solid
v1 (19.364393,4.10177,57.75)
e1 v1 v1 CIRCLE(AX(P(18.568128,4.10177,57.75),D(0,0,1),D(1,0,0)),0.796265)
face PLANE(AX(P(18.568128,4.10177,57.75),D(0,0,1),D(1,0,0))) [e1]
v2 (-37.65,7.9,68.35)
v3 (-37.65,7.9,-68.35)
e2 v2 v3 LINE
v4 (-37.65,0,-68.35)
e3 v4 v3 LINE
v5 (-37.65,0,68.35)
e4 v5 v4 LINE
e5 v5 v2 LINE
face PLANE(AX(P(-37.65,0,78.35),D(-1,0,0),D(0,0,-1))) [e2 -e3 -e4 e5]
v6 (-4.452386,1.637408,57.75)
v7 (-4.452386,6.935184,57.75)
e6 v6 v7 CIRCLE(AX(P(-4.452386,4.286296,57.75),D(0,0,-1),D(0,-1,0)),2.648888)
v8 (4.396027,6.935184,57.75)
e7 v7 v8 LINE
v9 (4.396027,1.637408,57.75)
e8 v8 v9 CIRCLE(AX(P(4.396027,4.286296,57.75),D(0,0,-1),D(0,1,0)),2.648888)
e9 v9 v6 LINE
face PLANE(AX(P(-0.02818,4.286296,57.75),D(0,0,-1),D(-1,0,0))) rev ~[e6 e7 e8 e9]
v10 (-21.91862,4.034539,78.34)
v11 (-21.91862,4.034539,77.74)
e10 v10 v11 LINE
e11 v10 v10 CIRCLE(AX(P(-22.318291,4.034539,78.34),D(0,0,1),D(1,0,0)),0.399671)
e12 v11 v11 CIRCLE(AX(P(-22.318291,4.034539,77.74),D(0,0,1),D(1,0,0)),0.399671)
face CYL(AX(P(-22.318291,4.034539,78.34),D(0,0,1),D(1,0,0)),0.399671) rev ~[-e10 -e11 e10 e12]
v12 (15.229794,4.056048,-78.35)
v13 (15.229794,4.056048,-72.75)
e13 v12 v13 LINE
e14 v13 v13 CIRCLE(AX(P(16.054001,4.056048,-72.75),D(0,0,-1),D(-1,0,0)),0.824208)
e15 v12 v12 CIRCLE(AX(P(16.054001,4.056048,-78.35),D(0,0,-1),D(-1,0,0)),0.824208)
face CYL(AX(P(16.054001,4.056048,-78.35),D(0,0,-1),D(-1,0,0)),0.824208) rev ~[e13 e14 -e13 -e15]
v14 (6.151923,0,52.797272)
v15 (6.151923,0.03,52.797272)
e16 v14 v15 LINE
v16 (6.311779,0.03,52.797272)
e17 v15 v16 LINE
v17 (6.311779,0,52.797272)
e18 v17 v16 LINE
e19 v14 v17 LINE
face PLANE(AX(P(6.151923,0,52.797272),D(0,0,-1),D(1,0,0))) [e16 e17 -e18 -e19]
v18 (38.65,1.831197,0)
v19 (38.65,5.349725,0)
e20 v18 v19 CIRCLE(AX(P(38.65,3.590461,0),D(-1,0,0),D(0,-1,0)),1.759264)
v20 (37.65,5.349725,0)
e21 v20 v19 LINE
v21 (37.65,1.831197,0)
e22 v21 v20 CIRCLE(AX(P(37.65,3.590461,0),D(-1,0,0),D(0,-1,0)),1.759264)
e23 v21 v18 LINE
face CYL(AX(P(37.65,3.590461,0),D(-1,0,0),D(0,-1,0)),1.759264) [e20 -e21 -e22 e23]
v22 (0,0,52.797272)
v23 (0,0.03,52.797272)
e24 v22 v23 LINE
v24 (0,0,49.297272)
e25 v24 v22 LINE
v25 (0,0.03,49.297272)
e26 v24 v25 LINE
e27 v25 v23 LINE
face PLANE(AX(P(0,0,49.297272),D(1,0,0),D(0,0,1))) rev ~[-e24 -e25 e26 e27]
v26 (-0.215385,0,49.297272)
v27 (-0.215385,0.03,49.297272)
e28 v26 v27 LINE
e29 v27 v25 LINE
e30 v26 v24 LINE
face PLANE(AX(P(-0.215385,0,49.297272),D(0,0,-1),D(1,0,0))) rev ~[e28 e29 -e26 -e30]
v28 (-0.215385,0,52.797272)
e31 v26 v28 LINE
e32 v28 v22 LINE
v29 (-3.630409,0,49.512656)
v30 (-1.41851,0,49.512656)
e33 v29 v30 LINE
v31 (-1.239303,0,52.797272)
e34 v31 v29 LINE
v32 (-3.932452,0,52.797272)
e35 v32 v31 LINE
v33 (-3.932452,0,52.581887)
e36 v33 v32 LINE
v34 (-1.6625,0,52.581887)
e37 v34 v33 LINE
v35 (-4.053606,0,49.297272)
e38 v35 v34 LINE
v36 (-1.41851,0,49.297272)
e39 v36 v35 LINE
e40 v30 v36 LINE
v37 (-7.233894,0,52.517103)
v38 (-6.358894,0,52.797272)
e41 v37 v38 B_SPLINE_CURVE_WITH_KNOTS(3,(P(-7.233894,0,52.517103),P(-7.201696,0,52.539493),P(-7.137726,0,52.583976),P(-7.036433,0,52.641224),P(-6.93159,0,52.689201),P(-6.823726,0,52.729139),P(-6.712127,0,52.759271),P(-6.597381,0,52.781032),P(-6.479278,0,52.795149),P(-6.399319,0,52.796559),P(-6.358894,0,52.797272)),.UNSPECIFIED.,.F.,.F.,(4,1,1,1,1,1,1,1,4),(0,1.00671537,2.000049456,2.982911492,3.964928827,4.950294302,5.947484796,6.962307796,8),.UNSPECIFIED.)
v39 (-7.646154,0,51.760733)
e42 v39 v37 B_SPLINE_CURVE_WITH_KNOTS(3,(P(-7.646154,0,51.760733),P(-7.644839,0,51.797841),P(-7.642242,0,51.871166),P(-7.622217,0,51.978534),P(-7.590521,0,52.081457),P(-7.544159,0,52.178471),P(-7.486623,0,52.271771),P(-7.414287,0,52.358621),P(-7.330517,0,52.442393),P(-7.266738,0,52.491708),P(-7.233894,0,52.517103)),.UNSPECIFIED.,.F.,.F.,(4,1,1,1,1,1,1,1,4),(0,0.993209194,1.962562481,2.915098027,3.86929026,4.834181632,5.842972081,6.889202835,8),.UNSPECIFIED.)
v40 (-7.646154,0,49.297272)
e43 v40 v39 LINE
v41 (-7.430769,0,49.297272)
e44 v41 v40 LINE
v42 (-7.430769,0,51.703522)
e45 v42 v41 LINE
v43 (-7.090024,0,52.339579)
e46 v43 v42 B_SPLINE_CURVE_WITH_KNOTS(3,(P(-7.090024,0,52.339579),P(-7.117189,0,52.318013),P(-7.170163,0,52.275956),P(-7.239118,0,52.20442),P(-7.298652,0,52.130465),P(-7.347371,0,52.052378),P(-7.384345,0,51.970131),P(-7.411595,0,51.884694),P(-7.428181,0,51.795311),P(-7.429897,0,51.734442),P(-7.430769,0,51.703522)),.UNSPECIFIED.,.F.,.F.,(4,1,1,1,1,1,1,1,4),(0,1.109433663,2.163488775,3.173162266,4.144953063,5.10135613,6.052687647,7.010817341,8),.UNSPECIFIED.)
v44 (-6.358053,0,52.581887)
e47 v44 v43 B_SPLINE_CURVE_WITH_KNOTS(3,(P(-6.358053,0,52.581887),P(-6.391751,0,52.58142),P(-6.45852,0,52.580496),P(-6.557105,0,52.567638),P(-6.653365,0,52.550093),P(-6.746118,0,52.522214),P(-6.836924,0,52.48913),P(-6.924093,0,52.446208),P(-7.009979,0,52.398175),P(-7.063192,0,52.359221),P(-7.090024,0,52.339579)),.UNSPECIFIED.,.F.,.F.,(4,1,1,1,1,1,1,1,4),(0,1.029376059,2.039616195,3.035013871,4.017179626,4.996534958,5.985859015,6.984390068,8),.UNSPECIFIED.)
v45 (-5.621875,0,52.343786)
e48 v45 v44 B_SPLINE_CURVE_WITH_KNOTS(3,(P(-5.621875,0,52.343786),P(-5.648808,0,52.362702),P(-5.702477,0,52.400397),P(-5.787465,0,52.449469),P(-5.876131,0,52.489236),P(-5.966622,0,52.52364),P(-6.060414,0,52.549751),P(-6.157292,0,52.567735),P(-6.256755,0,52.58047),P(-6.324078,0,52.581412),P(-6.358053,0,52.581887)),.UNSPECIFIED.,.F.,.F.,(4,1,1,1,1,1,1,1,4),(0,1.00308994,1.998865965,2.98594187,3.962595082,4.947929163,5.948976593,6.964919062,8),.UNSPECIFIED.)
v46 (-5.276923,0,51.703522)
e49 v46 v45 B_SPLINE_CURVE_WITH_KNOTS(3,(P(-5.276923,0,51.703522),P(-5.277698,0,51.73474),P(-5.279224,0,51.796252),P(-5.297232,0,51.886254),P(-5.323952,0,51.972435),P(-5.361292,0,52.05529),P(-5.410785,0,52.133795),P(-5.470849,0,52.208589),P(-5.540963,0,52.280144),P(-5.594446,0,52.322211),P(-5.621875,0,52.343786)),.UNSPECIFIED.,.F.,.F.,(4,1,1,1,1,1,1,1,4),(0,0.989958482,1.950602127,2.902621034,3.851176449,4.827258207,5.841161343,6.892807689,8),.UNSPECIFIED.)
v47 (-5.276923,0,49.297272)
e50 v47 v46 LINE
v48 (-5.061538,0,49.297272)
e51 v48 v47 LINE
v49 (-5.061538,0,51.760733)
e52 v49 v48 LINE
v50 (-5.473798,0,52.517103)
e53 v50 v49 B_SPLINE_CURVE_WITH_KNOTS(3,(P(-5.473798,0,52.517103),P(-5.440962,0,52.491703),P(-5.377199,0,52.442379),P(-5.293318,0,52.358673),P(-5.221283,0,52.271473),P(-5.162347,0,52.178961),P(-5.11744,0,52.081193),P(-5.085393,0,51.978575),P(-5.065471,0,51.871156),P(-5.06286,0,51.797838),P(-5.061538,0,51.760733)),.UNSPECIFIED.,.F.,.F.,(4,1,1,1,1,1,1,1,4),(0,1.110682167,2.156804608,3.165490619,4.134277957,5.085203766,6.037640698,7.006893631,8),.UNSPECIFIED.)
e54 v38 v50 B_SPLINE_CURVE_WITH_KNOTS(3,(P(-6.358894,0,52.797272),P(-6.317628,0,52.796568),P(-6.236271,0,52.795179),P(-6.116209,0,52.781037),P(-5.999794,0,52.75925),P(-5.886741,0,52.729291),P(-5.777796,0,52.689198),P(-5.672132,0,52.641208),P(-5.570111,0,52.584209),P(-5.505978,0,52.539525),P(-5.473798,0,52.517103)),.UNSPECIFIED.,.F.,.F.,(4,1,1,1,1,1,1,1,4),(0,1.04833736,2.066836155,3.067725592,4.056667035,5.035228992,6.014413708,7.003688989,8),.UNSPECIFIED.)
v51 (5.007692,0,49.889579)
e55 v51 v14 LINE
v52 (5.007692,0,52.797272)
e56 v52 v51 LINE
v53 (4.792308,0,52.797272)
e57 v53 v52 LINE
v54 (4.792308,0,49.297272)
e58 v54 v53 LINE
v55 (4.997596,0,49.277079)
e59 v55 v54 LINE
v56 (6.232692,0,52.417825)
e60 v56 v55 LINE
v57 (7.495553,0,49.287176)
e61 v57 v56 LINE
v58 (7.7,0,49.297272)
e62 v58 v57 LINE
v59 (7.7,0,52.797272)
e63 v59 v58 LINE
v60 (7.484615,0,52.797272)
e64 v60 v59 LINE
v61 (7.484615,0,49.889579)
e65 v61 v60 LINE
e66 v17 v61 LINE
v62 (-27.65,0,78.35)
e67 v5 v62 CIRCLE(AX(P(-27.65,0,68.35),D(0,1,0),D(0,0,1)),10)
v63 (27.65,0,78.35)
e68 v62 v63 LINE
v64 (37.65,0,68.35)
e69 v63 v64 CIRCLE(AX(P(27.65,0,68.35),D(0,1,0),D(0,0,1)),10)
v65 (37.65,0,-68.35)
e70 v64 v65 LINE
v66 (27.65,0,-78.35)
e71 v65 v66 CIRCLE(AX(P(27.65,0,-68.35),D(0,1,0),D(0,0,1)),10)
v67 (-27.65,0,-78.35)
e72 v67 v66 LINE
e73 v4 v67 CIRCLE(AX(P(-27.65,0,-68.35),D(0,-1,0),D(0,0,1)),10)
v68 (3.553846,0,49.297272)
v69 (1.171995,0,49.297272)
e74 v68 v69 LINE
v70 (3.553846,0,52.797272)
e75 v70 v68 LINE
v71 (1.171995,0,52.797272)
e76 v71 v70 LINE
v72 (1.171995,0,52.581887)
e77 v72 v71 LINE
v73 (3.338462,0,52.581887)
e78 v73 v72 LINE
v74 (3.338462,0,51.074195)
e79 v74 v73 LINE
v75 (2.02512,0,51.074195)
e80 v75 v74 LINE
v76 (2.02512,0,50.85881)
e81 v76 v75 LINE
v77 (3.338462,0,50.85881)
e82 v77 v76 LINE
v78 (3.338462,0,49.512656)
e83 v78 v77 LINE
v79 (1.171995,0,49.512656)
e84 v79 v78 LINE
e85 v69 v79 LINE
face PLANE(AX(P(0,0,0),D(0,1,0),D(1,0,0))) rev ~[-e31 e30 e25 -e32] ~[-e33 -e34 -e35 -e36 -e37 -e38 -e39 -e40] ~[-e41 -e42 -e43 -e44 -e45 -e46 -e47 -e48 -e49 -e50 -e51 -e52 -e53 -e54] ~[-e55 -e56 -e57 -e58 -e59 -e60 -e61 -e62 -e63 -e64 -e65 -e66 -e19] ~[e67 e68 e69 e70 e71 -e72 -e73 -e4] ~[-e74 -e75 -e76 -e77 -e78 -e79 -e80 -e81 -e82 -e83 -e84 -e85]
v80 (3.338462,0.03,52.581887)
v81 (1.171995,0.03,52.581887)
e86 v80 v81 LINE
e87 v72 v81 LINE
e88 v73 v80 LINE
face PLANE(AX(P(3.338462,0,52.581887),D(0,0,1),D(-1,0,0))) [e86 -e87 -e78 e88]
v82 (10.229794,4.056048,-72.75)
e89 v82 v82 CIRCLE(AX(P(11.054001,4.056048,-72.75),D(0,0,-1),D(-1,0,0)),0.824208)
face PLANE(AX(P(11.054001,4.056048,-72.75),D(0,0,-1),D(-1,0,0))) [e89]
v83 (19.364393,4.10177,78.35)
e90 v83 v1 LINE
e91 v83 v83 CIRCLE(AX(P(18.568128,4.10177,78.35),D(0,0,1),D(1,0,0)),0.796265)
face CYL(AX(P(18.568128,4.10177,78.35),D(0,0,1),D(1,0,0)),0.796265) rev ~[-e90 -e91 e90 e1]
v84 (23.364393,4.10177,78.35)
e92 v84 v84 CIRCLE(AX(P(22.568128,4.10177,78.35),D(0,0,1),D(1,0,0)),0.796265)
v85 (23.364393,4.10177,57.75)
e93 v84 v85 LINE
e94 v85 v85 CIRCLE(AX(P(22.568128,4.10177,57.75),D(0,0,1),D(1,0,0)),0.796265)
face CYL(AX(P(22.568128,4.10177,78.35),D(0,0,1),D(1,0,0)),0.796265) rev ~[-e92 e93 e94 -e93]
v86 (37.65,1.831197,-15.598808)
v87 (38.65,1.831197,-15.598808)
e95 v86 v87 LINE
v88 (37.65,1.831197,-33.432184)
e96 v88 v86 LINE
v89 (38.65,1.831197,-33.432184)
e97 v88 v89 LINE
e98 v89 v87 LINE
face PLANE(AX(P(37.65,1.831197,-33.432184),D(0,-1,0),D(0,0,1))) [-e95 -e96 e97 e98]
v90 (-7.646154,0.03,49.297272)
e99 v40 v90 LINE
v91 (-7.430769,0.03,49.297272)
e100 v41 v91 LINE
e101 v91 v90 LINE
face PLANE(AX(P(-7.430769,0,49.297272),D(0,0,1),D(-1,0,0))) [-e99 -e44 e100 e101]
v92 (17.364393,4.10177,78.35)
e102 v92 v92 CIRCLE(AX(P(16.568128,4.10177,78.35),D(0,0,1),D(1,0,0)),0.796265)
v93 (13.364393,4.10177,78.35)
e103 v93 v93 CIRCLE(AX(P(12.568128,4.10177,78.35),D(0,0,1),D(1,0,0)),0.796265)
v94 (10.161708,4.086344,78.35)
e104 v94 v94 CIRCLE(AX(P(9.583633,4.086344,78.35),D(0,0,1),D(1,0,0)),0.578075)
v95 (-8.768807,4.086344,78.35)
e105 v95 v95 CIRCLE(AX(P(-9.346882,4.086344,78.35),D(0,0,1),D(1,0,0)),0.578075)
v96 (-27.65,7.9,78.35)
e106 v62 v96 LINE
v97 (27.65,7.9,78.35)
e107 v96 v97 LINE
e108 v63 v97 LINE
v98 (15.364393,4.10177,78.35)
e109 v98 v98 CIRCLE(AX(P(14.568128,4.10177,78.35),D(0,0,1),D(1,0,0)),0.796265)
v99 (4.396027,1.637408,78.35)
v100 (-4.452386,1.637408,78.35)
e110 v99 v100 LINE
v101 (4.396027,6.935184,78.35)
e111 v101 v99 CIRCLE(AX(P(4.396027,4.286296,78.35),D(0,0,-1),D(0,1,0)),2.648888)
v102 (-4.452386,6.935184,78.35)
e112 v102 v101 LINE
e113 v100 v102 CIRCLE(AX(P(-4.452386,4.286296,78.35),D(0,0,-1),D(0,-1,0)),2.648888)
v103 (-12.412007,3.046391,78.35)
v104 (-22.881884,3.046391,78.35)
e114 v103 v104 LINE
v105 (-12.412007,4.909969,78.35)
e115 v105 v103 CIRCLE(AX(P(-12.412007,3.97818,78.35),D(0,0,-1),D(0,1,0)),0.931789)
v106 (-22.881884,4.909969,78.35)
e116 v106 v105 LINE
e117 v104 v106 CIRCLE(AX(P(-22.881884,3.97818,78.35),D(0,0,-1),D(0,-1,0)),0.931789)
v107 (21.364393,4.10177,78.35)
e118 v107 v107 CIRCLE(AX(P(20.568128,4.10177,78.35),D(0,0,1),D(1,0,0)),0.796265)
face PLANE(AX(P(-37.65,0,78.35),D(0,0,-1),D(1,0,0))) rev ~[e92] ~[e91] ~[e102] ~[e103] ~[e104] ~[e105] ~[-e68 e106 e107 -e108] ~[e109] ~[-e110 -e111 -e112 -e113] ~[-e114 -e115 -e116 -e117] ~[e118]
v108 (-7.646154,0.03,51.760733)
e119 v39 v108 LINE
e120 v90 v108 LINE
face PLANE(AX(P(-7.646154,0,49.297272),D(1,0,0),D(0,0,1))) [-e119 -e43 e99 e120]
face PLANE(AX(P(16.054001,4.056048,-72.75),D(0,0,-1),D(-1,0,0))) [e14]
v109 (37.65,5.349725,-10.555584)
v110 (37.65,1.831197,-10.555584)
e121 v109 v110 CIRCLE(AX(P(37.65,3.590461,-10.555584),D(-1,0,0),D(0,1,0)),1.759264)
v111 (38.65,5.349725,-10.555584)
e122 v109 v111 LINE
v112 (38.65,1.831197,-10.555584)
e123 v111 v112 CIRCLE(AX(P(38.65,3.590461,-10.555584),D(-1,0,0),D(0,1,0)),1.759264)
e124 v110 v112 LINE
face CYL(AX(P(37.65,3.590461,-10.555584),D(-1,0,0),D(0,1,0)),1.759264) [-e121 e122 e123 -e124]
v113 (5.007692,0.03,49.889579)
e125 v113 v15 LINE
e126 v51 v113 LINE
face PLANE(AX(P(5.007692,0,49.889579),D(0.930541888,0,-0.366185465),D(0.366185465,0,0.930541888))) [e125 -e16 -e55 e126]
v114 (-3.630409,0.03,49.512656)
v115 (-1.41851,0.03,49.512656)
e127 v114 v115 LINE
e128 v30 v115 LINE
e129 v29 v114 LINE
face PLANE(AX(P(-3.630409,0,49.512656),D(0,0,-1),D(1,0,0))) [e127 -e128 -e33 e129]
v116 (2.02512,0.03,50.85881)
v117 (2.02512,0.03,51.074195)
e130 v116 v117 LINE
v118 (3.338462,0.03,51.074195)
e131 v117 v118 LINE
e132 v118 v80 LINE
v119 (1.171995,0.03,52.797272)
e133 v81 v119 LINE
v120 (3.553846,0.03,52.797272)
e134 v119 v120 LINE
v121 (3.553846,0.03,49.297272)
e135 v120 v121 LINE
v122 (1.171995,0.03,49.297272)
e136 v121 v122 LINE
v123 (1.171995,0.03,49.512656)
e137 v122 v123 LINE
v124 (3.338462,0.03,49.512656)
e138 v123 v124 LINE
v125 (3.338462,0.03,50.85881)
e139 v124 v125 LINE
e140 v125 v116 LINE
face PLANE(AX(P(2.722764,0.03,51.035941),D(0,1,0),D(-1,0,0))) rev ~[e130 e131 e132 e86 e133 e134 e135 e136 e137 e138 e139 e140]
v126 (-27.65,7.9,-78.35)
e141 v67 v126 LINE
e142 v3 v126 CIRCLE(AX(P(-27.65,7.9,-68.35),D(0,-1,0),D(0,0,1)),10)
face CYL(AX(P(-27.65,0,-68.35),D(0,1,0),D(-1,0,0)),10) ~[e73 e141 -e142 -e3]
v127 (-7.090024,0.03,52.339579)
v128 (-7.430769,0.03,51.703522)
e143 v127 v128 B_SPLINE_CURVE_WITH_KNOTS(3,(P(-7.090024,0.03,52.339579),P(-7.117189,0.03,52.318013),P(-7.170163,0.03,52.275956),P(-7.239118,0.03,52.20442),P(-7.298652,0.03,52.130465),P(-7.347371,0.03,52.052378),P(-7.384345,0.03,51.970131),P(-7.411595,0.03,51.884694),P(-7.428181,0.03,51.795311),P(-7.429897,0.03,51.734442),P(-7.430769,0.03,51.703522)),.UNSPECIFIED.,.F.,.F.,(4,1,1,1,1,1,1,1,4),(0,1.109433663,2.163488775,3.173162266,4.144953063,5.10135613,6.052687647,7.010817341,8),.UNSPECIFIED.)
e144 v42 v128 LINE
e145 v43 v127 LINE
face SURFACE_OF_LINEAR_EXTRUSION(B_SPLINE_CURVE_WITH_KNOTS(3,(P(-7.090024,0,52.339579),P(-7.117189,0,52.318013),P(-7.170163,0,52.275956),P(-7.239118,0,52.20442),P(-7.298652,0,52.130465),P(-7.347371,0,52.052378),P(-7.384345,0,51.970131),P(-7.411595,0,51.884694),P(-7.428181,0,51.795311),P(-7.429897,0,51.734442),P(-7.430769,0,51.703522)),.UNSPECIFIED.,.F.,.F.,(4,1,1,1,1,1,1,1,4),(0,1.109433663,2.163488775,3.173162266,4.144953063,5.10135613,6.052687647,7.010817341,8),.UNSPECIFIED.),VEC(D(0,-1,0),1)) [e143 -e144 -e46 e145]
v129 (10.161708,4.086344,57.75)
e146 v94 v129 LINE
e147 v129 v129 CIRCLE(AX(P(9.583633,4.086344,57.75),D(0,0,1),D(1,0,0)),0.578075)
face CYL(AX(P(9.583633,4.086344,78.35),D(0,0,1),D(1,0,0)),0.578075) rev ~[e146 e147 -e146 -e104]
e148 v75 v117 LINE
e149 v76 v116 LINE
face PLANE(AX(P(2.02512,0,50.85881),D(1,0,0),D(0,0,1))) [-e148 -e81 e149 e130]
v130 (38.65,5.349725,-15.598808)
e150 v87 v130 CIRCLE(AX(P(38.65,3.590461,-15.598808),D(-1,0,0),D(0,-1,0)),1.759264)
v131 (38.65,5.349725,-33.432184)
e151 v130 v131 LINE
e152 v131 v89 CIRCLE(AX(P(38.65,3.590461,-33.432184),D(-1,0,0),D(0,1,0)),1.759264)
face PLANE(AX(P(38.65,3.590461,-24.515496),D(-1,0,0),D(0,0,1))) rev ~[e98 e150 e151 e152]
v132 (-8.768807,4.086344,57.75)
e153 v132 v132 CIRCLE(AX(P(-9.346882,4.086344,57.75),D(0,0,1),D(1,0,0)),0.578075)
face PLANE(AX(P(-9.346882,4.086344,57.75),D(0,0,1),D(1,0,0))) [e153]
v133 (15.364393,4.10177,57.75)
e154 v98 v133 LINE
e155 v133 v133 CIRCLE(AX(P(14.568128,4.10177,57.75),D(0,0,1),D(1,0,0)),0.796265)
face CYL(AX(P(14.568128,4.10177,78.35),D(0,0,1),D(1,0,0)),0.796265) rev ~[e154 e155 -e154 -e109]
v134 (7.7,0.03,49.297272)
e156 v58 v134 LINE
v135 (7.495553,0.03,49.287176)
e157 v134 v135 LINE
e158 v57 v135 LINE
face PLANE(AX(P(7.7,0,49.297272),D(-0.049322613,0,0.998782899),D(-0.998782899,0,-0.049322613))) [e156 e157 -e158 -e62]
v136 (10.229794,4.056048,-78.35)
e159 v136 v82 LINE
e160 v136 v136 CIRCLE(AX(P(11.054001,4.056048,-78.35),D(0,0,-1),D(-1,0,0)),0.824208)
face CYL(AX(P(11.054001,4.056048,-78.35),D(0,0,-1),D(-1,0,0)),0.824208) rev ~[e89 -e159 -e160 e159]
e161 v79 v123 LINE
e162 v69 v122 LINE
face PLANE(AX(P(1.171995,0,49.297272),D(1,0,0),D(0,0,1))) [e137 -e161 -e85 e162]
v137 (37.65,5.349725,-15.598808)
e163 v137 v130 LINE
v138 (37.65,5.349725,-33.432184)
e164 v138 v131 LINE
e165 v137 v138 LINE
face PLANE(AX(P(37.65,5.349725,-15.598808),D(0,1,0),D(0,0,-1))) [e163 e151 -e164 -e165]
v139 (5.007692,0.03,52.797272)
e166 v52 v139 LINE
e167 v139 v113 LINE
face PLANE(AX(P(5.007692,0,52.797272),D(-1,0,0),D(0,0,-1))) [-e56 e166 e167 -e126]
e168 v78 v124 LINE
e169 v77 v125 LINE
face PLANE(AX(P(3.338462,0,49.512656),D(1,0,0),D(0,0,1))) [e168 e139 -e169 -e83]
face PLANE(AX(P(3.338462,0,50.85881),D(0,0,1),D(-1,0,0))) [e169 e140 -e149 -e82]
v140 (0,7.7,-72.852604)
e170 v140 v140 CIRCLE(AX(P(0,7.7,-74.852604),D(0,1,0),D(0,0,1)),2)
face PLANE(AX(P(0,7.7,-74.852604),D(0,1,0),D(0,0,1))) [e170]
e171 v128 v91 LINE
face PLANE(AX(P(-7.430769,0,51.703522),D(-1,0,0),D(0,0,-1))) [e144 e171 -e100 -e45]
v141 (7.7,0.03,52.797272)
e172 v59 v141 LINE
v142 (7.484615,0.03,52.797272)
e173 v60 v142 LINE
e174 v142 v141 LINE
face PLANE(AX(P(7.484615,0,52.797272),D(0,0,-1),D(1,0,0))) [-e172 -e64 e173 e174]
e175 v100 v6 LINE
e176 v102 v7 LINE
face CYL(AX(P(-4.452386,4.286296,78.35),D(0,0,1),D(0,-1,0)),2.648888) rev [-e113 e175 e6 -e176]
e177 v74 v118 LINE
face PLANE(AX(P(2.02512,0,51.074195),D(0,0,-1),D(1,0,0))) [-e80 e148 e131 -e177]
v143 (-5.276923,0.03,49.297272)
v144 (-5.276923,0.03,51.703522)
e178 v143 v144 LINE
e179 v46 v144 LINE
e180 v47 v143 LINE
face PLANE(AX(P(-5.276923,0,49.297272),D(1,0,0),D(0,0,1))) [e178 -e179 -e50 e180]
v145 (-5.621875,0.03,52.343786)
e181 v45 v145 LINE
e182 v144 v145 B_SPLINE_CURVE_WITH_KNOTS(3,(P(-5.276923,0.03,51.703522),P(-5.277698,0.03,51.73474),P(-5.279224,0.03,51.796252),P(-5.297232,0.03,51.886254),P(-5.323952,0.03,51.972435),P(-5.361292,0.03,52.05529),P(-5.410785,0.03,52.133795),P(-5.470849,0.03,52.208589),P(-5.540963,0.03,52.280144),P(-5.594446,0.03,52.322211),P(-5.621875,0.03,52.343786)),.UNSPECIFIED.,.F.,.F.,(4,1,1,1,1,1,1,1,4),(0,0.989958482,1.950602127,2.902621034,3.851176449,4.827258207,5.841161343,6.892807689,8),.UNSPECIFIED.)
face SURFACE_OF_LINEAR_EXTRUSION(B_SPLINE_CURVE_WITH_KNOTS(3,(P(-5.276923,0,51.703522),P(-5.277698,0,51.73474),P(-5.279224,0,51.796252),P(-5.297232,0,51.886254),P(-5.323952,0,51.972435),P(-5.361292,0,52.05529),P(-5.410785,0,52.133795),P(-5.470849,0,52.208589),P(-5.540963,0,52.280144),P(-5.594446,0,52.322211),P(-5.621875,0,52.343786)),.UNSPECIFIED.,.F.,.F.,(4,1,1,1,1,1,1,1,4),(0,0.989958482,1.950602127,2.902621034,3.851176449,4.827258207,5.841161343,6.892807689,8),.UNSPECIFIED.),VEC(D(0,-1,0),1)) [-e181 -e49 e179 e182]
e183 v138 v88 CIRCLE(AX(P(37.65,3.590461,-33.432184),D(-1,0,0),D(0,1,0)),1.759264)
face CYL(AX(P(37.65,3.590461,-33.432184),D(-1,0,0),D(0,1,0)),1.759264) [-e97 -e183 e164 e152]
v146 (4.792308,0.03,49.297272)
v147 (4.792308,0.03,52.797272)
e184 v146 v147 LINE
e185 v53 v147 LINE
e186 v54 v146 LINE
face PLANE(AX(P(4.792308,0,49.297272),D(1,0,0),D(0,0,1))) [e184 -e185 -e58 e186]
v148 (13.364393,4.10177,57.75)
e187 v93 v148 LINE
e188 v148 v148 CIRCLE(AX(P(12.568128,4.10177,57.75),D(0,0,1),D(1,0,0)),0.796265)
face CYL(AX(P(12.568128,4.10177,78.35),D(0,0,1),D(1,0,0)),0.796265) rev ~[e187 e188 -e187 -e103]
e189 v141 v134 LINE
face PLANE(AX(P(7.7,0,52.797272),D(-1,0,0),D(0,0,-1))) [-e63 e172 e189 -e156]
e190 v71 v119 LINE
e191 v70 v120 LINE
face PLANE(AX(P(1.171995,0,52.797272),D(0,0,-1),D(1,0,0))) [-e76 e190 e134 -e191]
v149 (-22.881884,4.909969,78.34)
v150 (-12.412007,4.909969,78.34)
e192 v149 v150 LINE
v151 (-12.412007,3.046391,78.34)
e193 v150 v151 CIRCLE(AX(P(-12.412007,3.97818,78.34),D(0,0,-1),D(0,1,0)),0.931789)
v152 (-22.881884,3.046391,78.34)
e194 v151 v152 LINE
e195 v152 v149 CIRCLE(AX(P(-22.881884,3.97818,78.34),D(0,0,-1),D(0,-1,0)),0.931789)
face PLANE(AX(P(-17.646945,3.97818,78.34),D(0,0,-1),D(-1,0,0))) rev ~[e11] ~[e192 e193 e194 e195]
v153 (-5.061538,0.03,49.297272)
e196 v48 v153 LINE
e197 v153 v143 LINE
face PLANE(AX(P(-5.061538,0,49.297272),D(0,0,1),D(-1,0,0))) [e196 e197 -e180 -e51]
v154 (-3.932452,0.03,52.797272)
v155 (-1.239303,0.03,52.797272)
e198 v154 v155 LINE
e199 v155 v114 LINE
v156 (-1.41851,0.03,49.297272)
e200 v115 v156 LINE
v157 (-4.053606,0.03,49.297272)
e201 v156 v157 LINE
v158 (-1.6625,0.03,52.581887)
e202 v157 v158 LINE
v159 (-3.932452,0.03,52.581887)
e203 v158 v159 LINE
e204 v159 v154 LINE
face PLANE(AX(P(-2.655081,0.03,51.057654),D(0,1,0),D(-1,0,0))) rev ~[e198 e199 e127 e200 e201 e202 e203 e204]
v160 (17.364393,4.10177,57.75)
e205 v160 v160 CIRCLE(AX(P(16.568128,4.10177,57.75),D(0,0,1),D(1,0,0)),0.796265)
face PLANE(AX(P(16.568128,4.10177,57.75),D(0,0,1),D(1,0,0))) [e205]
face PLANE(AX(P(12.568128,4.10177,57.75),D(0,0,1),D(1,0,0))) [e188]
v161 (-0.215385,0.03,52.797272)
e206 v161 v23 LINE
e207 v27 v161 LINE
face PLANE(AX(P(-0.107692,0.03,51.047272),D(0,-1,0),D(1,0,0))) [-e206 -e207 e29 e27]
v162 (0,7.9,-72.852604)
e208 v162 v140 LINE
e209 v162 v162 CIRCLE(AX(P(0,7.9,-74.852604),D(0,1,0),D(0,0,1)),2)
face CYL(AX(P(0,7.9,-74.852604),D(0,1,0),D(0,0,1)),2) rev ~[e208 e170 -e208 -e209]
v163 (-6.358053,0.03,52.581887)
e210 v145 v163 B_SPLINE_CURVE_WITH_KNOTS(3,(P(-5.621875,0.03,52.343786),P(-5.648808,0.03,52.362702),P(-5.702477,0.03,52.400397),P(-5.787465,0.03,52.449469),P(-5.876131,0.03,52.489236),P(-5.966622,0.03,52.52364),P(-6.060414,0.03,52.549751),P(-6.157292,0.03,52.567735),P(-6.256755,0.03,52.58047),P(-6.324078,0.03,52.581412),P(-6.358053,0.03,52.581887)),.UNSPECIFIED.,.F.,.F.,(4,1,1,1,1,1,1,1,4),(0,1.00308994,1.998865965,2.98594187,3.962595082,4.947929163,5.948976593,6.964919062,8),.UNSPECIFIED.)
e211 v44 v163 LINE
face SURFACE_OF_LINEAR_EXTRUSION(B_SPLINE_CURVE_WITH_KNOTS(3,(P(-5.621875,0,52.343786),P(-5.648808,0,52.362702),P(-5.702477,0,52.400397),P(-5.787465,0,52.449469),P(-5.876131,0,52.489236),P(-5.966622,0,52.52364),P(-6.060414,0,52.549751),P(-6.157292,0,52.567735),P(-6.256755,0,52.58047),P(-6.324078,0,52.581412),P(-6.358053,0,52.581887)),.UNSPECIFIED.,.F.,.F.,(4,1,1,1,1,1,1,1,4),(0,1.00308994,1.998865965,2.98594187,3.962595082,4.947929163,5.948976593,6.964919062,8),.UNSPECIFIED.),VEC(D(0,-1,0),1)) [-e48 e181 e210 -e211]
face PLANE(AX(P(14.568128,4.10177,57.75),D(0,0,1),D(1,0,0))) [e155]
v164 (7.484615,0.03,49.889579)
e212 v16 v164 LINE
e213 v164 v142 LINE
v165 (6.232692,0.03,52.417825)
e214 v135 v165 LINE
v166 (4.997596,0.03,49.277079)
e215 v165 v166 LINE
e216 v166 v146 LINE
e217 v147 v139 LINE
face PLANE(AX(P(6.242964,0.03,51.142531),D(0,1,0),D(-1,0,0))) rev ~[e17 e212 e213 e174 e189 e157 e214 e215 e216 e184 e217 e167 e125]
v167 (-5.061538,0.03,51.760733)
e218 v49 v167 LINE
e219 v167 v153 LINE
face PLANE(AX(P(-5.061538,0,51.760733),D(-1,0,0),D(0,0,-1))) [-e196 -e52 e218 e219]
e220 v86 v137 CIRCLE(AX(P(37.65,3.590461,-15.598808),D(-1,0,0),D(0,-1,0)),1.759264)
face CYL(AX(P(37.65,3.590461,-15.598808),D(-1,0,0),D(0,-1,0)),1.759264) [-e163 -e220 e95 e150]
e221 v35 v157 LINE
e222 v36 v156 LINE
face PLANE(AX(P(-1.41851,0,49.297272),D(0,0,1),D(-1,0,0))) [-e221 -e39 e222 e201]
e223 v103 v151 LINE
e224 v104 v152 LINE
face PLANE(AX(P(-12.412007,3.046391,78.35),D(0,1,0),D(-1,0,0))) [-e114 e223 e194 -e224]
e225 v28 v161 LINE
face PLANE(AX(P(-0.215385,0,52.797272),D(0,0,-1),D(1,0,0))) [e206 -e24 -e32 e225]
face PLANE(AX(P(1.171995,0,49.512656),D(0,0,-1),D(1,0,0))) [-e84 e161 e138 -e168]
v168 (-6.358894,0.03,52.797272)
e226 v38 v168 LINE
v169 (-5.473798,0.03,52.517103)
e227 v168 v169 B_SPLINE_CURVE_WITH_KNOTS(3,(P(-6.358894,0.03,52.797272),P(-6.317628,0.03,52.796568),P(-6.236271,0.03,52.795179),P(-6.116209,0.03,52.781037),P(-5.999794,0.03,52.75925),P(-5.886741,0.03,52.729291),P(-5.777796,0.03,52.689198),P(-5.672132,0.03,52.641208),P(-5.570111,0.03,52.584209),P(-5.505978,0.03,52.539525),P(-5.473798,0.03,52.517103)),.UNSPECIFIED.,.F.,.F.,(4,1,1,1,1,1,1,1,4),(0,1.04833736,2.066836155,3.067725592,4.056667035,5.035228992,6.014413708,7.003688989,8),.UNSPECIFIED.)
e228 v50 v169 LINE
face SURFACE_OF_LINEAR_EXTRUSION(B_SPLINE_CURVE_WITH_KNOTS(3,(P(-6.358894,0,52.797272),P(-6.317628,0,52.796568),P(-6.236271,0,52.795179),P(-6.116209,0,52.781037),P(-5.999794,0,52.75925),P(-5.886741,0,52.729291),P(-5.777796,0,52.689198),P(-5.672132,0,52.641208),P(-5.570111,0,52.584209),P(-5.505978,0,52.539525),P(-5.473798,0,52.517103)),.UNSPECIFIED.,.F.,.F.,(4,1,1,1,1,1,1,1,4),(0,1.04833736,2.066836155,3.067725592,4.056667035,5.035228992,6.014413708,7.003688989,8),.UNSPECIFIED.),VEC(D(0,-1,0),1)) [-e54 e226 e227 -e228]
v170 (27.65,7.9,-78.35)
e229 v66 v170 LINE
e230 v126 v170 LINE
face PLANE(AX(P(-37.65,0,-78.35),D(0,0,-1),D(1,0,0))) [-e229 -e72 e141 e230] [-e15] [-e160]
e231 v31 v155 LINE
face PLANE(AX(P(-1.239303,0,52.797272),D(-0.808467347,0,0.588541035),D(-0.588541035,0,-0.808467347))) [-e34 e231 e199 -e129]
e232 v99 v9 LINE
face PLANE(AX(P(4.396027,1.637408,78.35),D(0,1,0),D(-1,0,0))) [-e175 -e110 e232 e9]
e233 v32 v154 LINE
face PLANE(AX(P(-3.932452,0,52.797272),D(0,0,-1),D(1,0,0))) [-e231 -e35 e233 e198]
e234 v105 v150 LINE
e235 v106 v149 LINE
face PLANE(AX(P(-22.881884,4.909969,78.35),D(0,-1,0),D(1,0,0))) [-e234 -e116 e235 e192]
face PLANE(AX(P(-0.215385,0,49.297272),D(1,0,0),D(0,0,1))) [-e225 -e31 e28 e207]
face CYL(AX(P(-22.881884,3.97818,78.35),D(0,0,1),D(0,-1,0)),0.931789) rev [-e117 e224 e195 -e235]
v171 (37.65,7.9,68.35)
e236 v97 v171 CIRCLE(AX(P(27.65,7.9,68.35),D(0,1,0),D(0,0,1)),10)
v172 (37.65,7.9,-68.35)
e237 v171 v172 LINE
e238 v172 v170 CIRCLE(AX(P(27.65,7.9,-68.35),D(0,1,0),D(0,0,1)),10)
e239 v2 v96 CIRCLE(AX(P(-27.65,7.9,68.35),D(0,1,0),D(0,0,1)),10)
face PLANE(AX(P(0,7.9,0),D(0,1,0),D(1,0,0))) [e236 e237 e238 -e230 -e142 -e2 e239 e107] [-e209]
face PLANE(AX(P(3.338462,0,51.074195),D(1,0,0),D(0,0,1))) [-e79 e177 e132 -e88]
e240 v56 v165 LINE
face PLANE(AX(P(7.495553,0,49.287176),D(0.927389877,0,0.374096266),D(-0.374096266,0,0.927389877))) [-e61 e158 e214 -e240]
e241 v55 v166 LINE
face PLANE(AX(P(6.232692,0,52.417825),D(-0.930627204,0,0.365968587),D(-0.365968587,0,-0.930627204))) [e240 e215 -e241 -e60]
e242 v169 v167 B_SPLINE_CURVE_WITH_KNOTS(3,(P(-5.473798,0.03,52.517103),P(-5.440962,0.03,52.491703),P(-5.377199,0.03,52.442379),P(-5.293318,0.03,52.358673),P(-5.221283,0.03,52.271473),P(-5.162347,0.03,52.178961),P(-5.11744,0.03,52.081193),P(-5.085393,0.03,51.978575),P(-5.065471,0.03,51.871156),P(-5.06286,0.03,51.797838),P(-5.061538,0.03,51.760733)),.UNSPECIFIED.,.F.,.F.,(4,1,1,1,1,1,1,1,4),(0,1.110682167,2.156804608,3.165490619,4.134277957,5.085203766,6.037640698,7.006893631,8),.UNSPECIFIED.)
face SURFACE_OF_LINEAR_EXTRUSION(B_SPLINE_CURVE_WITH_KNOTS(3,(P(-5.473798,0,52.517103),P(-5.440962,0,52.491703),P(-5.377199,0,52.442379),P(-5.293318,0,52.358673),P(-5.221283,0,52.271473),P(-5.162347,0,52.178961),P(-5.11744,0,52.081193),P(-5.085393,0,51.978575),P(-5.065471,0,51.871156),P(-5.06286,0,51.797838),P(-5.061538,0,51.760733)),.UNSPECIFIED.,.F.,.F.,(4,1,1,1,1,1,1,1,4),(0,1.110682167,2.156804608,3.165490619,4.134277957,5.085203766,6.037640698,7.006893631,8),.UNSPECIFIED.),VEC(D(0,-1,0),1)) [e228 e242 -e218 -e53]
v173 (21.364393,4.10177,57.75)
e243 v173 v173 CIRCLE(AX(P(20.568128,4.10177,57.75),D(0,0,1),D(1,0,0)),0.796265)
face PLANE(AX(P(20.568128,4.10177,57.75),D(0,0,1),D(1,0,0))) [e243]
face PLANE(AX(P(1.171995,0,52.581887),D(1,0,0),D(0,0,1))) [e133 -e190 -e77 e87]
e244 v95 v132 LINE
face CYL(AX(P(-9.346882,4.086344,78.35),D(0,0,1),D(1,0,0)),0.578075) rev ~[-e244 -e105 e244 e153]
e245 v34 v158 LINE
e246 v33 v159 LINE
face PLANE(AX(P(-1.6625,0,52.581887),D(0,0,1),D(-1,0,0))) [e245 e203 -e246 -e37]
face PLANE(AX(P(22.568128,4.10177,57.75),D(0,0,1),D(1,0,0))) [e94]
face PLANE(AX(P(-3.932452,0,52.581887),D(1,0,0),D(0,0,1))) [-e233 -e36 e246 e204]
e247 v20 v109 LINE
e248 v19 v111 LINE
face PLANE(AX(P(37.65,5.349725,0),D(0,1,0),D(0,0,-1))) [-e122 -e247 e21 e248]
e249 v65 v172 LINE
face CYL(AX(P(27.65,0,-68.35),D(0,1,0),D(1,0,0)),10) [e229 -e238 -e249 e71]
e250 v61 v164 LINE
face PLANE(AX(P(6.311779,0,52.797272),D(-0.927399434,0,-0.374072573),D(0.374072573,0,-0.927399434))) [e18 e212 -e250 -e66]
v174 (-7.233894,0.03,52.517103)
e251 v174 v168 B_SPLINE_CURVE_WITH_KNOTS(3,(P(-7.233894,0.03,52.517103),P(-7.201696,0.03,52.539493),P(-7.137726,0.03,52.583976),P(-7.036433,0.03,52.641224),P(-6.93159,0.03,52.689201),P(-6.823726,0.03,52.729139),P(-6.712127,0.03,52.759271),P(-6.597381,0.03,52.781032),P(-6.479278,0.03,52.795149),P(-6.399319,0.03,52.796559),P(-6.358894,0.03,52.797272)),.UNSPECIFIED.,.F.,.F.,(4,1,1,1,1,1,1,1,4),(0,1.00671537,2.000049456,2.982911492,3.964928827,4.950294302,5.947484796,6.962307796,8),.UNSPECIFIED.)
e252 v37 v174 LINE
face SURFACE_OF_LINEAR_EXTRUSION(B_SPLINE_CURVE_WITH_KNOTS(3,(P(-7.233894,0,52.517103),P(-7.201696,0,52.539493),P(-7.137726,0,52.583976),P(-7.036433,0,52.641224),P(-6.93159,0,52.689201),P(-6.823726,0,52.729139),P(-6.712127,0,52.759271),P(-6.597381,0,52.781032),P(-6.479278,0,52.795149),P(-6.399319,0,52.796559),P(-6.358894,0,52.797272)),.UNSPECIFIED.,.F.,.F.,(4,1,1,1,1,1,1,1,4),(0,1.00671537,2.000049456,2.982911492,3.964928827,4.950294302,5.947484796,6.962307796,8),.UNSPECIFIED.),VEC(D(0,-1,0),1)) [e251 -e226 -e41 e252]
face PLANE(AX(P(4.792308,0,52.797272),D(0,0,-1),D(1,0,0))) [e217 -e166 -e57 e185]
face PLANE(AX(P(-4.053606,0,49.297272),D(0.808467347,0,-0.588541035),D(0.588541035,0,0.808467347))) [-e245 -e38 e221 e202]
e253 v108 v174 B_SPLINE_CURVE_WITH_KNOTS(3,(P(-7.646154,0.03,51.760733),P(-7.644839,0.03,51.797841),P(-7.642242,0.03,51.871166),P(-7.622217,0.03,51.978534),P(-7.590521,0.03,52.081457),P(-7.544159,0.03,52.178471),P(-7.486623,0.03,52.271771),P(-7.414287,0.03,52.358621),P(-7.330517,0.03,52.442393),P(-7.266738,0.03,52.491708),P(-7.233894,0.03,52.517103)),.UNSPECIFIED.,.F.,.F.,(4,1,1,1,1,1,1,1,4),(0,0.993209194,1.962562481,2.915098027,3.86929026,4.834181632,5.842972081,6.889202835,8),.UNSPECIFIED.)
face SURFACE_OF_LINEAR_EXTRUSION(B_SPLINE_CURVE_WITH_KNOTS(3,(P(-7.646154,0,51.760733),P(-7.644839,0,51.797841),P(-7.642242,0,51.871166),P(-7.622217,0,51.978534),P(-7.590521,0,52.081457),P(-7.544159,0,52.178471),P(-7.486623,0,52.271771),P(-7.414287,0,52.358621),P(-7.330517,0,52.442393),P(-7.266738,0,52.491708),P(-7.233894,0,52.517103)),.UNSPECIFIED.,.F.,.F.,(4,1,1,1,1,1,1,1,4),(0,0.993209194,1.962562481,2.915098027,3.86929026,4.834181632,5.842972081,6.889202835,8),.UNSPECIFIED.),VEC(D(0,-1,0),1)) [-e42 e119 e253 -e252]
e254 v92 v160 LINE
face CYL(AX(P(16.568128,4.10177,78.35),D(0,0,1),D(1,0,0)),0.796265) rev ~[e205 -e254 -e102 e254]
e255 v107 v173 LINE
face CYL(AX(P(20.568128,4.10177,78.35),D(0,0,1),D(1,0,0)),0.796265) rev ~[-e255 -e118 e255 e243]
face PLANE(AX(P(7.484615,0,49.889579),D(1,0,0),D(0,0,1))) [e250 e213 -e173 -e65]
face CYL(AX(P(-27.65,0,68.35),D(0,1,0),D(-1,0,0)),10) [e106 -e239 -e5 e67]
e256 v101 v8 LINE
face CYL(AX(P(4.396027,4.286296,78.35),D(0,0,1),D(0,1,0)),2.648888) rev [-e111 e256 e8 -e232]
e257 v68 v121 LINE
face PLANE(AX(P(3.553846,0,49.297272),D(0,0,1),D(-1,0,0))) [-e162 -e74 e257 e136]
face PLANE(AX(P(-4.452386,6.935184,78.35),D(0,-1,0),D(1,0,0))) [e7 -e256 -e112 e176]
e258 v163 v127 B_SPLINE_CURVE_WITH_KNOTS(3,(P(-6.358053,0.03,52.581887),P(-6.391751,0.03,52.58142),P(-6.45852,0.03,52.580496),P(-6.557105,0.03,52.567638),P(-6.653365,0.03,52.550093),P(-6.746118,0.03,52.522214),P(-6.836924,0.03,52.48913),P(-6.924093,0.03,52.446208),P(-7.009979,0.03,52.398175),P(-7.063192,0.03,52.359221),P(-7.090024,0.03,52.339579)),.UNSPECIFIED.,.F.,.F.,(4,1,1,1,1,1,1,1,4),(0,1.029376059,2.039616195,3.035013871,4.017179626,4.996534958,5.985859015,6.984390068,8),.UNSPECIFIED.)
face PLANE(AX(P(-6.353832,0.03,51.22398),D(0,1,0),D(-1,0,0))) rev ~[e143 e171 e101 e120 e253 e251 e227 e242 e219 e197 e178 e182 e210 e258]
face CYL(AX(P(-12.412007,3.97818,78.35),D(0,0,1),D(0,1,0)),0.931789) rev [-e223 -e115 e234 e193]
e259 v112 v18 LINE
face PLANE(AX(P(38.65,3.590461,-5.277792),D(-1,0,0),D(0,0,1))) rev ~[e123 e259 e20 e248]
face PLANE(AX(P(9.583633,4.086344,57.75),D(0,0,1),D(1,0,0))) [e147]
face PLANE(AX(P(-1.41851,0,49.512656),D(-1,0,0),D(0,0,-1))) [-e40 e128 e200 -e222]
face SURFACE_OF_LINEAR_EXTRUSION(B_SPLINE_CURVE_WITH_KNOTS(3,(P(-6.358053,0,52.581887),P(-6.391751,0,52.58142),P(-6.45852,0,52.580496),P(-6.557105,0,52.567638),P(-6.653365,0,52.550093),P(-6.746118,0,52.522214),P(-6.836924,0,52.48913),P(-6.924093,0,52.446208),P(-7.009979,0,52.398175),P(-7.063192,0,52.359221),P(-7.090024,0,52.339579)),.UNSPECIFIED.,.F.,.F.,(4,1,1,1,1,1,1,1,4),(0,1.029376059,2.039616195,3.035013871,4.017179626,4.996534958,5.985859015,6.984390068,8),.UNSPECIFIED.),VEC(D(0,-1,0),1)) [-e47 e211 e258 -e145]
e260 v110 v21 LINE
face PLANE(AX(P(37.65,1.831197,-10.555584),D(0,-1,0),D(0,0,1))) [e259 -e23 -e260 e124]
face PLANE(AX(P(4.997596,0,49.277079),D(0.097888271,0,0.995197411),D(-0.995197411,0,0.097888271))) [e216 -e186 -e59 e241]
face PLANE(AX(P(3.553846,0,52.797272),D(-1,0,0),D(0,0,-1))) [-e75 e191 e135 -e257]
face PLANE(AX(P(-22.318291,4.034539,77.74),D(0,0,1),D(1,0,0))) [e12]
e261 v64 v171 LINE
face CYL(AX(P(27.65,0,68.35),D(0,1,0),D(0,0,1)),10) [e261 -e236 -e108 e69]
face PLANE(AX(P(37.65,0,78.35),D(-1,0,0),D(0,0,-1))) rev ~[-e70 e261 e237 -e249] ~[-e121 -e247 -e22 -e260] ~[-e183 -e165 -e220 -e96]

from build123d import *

# Parameters (mm, degrees)
SKETCH_1_W          = 75.3
SKETCH_1_H          = 156.7
EXTRUDE_1_DEPTH     = 7.9
FILLET_1_R          = 10
SKETCH_3_R          = 2
CUT_EXTRUDE_1_DEPTH = 0.2
CUT_EXTRUDE_2_DEPTH = 0.01
SKETCH_9_R          = 0.399671137
CUT_EXTRUDE_3_DEPTH = 0.6
CUT_EXTRUDE_4_DEPTH = 20.6
SKETCH_13_R         = 0.578075407
SKETCH_13_R_2       = 0.57807541
CUT_EXTRUDE_5_DEPTH = 20.6
SKETCH_15_R         = 0.7962645
CUT_EXTRUDE_6_DEPTH = 20.6
SKETCH_16_R         = 0.82420756
CUT_EXTRUDE_8_DEPTH = 5.6
EXTRUDE_2_DEPTH     = 1
SKETCH_19_W         = 0.215384615
SKETCH_19_H         = 3.5
CUT_EXTRUDE_9_DEPTH = 0.03


with BuildPart() as part:
    # 草图1 → 凸台-拉伸1 (new body)
    with BuildSketch(Plane(origin=(0, 0, 0), x_dir=(1, 0, 0), z_dir=(0, 1, 0))):
        Rectangle(SKETCH_1_W, SKETCH_1_H)
    extrude(amount=EXTRUDE_1_DEPTH)

    # 圆角1
    fillet_1_edges = [part.edges().sort_by_distance(p)[0] for p in [
        (37.65, 3.95, 78.35),
        (-37.65, 3.95, 78.35),
        (-37.65, 3.95, -78.35),
        (37.65, 3.95, -78.35),
    ]]
    fillet(fillet_1_edges, radius=FILLET_1_R)

    # 草图3 → 切除-拉伸1 (cut)
    with BuildSketch(Plane(origin=(0, 7.9, 0), x_dir=(1, 0, 0), z_dir=(0, 1, 0))):
        with Locations(Location((0, 74.852603511, 0), (0, 0, 270))):
            Circle(SKETCH_3_R)
    extrude(amount=-CUT_EXTRUDE_1_DEPTH, mode=Mode.SUBTRACT)

    # 草图6 → 切除-拉伸2 (cut)
    with BuildSketch(Plane.XY.offset(78.35)):
        with BuildLine():
            Line((-22.881883908, 4.909968629), (-12.412006908, 4.909968629))
            ThreePointArc((-12.412006908, 4.909968629), (-11.480217939, 3.97817966), (-12.412006908, 3.046390691))
            Line((-12.412006908, 3.046390691), (-22.881883908, 3.046390691))
            ThreePointArc((-22.881883908, 3.046390691), (-23.813672877, 3.97817966), (-22.881883908, 4.909968629))
        make_face()
    extrude(amount=-CUT_EXTRUDE_2_DEPTH, mode=Mode.SUBTRACT)

    # 草图9 → 切除-拉伸3 (cut)
    with BuildSketch(Plane.XY.offset(78.34)):
        with Locations((-22.318290708, 4.03453898)):
            Circle(SKETCH_9_R)
    extrude(amount=-CUT_EXTRUDE_3_DEPTH, mode=Mode.SUBTRACT)

    # 草图12 → 切除-拉伸4 (cut)
    with BuildSketch(Plane.XY.offset(78.35)):
        with BuildLine():
            Line((-4.452386278, 6.935183769), (4.396026958, 6.935183769))
            ThreePointArc((4.396026958, 6.935183769), (7.044914996, 4.286295731), (4.396026958, 1.637407692))
            Line((4.396026958, 1.637407692), (-4.452386278, 1.637407692))
            ThreePointArc((-4.452386278, 1.637407692), (-7.101274316, 4.286295731), (-4.452386278, 6.935183769))
        make_face()
    extrude(amount=-CUT_EXTRUDE_4_DEPTH, mode=Mode.SUBTRACT)

    # 草图13 → 切除-拉伸5 (cut)
    with BuildSketch(Plane.XY.offset(78.35)):
        with Locations((-9.346882, 4.086344457)):
            Circle(SKETCH_13_R)
        with Locations((9.58363279, 4.08634446)):
            Circle(SKETCH_13_R_2)
    extrude(amount=-CUT_EXTRUDE_5_DEPTH, mode=Mode.SUBTRACT)

    # 草图15 → 切除-拉伸6 (cut)
    with BuildSketch(Plane.XY.offset(78.35)):
        with Locations((12.568128353, 4.10177)):
            Circle(SKETCH_15_R)
        with Locations((14.568128353, 4.10177)):
            Circle(SKETCH_15_R)
        with Locations((16.568128353, 4.10177)):
            Circle(SKETCH_15_R)
        with Locations((18.568128353, 4.10177)):
            Circle(SKETCH_15_R)
        with Locations((20.568128353, 4.10177)):
            Circle(SKETCH_15_R)
        with Locations((22.568128353, 4.10177)):
            Circle(SKETCH_15_R)
    extrude(amount=-CUT_EXTRUDE_6_DEPTH, mode=Mode.SUBTRACT)

    # 草图16 → 切除-拉伸8 (cut)
    with BuildSketch(Plane(origin=(0, 0, -78.35), x_dir=(-1, 0, 0), z_dir=(0, 0, -1))):
        with Locations((-16.054001207, 4.05604766)):
            Circle(SKETCH_16_R)
        with Locations((-11.054001207, 4.05604766)):
            Circle(SKETCH_16_R)
    extrude(amount=-CUT_EXTRUDE_8_DEPTH, mode=Mode.SUBTRACT)

    # 草图17 → 凸台-拉伸2 (add)
    with BuildSketch(Plane(origin=(37.65, 0, 0), x_dir=(0, 0, -1), z_dir=(1, 0, 0))):
        with BuildLine():
            Line((15.598807748, 5.349724853), (33.432184038, 5.349724853))
            ThreePointArc((33.432184038, 5.349724853), (35.19144807, 3.590460821), (33.432184038, 1.83119679))
            Line((33.432184038, 1.83119679), (15.598807748, 1.83119679))
            ThreePointArc((15.598807748, 1.83119679), (13.839543716, 3.590460821), (15.598807748, 5.349724853))
        make_face()
        with BuildLine():
            Line((0, 5.349724851), (10.55558419, 5.349724851))
            ThreePointArc((10.55558419, 5.349724851), (12.31484822, 3.590460821), (10.55558419, 1.831196791))
            Line((10.55558419, 1.831196791), (0, 1.831196791))
            ThreePointArc((0, 1.831196791), (-1.75926403, 3.590460821), (0, 5.349724851))
        make_face()
    extrude(amount=EXTRUDE_2_DEPTH)

    # 草图19 → 切除-拉伸9 (cut)
    with BuildSketch(Plane.XZ):
        with BuildLine():
            add(Edge.make_bspline(
                [(-7.646153846, 51.760733272), (-7.644839495, 51.797841343), (-7.642242361, 51.871166186), (-7.622217175, 51.978533751), (-7.59052121, 52.081456816), (-7.544158851, 52.178470863), (-7.48662346, 52.271770862), (-7.414287328, 52.358620895), (-7.330517365, 52.44239319), (-7.266738309, 52.491707992), (-7.233894231, 52.517103464)],
                knots=[0, 0, 0, 0, 0.993209194, 1.962562481, 2.915098027, 3.86929026, 4.834181632, 5.842972081, 6.889202835, 8, 8, 8, 8], degree=3))
            add(Edge.make_bspline(
                [(-7.233894231, 52.517103464), (-7.201695642, 52.539493393), (-7.137726449, 52.583975643), (-7.036432661, 52.641223704), (-6.931590229, 52.689201419), (-6.823725715, 52.729138531), (-6.712126934, 52.759270996), (-6.597380859, 52.781031757), (-6.479278186, 52.795148788), (-6.399319185, 52.796558848), (-6.358894231, 52.797271733)],
                knots=[0, 0, 0, 0, 1.00671537, 2.000049456, 2.982911492, 3.964928827, 4.950294302, 5.947484796, 6.962307796, 8, 8, 8, 8], degree=3))
            add(Edge.make_bspline(
                [(-6.358894231, 52.797271733), (-6.317628186, 52.796567554), (-6.236270641, 52.795179239), (-6.116208514, 52.78103666), (-5.999793675, 52.759250084), (-5.886740914, 52.729291281), (-5.77779554, 52.689198143), (-5.672132462, 52.641208304), (-5.570111198, 52.584209386), (-5.5059782, 52.539524883), (-5.473798077, 52.517103464)],
                knots=[0, 0, 0, 0, 1.04833736, 2.066836155, 3.067725592, 4.056667035, 5.035228992, 6.014413708, 7.003688989, 8, 8, 8, 8], degree=3))
            add(Edge.make_bspline(
                [(-5.473798077, 52.517103464), (-5.440962088, 52.491703212), (-5.377198741, 52.442379129), (-5.293317523, 52.358672571), (-5.221283372, 52.271472613), (-5.162346747, 52.178961213), (-5.117439669, 52.081192816), (-5.085392617, 51.978574707), (-5.065471323, 51.871155577), (-5.062859996, 51.797837778), (-5.061538462, 51.760733272)],
                knots=[0, 0, 0, 0, 1.110682167, 2.156804608, 3.165490619, 4.134277957, 5.085203766, 6.037640698, 7.006893631, 8, 8, 8, 8], degree=3))
            Line((-5.061538462, 51.760733272), (-5.061538462, 49.297271733))
            Line((-5.061538462, 49.297271733), (-5.276923077, 49.297271733))
            Line((-5.276923077, 49.297271733), (-5.276923077, 51.703521733))
            add(Edge.make_bspline(
                [(-5.276923077, 51.703521733), (-5.277697856, 51.734739865), (-5.27922447, 51.796251691), (-5.297232044, 51.886254408), (-5.323952242, 51.972435284), (-5.361292074, 52.055290176), (-5.410784745, 52.133795044), (-5.470849129, 52.20858854), (-5.540962845, 52.280143715), (-5.594445586, 52.322211216), (-5.621875, 52.343786156)],
                knots=[0, 0, 0, 0, 0.989958482, 1.950602127, 2.902621034, 3.851176449, 4.827258207, 5.841161343, 6.892807689, 8, 8, 8, 8], degree=3))
            add(Edge.make_bspline(
                [(-5.621875, 52.343786156), (-5.648807912, 52.362702476), (-5.702477359, 52.40039719), (-5.787465398, 52.44946878), (-5.876130777, 52.489236487), (-5.966622188, 52.523640198), (-6.060413558, 52.549751201), (-6.157292446, 52.567734943), (-6.256755411, 52.580470436), (-6.324077661, 52.581411962), (-6.358052885, 52.581887118)],
                knots=[0, 0, 0, 0, 1.00308994, 1.998865965, 2.98594187, 3.962595082, 4.947929163, 5.948976593, 6.964919062, 8, 8, 8, 8], degree=3))
            add(Edge.make_bspline(
                [(-6.358052885, 52.581887118), (-6.391750651, 52.581420436), (-6.458519747, 52.580495747), (-6.55710455, 52.567638289), (-6.653364666, 52.550092599), (-6.746118084, 52.522213684), (-6.836924226, 52.489129859), (-6.924092784, 52.446207655), (-7.009979076, 52.398175038), (-7.063191978, 52.359221398), (-7.090024038, 52.339579425)],
                knots=[0, 0, 0, 0, 1.029376059, 2.039616195, 3.035013871, 4.017179626, 4.996534958, 5.985859015, 6.984390068, 8, 8, 8, 8], degree=3))
            add(Edge.make_bspline(
                [(-7.090024038, 52.339579425), (-7.117189078, 52.318012746), (-7.170163187, 52.27595591), (-7.239118308, 52.204419986), (-7.298652017, 52.130464565), (-7.347371383, 52.052378141), (-7.384344764, 51.970130946), (-7.41159499, 51.884693831), (-7.428180722, 51.795311313), (-7.42989727, 51.734441813), (-7.430769231, 51.703521733)],
                knots=[0, 0, 0, 0, 1.109433663, 2.163488775, 3.173162266, 4.144953063, 5.10135613, 6.052687647, 7.010817341, 8, 8, 8, 8], degree=3))
            Line((-7.430769231, 51.703521733), (-7.430769231, 49.297271733))
            Line((-7.430769231, 49.297271733), (-7.646153846, 49.297271733))
            Line((-7.646153846, 49.297271733), (-7.646153846, 51.760733272))
        make_face()
        Polygon((-1.6625, 52.581887118), (-3.932451923, 52.581887118), (-3.932451923, 52.797271733), (-1.239302885, 52.797271733), (-3.630408654, 49.512656348), (-1.418509615, 49.512656348), (-1.418509615, 49.297271733), (-4.053605769, 49.297271733), align=None)
        with Locations((-0.107692308, 51.047271733)):
            Rectangle(SKETCH_19_W, SKETCH_19_H)
        Polygon((3.553846154, 52.797271733), (3.553846154, 49.297271733), (1.171995192, 49.297271733), (1.171995192, 49.512656348), (3.338461538, 49.512656348), (3.338461538, 50.858810195), (2.025120192, 50.858810195), (2.025120192, 51.07419481), (3.338461538, 51.07419481), (3.338461538, 52.581887118), (1.171995192, 52.581887118), (1.171995192, 52.797271733), align=None)
        Polygon((5.007692308, 52.797271733), (5.007692308, 49.889579425), (6.151923077, 52.797271733), (6.311778846, 52.797271733), (7.484615385, 49.889579425), (7.484615385, 52.797271733), (7.7, 52.797271733), (7.7, 49.297271733), (7.495552885, 49.287175579), (6.232692308, 52.417824618), (4.997596154, 49.277079425), (4.792307692, 49.297271733), (4.792307692, 52.797271733), align=None)
    extrude(amount=-CUT_EXTRUDE_9_DEPTH, mode=Mode.SUBTRACT)


solid = part.part
